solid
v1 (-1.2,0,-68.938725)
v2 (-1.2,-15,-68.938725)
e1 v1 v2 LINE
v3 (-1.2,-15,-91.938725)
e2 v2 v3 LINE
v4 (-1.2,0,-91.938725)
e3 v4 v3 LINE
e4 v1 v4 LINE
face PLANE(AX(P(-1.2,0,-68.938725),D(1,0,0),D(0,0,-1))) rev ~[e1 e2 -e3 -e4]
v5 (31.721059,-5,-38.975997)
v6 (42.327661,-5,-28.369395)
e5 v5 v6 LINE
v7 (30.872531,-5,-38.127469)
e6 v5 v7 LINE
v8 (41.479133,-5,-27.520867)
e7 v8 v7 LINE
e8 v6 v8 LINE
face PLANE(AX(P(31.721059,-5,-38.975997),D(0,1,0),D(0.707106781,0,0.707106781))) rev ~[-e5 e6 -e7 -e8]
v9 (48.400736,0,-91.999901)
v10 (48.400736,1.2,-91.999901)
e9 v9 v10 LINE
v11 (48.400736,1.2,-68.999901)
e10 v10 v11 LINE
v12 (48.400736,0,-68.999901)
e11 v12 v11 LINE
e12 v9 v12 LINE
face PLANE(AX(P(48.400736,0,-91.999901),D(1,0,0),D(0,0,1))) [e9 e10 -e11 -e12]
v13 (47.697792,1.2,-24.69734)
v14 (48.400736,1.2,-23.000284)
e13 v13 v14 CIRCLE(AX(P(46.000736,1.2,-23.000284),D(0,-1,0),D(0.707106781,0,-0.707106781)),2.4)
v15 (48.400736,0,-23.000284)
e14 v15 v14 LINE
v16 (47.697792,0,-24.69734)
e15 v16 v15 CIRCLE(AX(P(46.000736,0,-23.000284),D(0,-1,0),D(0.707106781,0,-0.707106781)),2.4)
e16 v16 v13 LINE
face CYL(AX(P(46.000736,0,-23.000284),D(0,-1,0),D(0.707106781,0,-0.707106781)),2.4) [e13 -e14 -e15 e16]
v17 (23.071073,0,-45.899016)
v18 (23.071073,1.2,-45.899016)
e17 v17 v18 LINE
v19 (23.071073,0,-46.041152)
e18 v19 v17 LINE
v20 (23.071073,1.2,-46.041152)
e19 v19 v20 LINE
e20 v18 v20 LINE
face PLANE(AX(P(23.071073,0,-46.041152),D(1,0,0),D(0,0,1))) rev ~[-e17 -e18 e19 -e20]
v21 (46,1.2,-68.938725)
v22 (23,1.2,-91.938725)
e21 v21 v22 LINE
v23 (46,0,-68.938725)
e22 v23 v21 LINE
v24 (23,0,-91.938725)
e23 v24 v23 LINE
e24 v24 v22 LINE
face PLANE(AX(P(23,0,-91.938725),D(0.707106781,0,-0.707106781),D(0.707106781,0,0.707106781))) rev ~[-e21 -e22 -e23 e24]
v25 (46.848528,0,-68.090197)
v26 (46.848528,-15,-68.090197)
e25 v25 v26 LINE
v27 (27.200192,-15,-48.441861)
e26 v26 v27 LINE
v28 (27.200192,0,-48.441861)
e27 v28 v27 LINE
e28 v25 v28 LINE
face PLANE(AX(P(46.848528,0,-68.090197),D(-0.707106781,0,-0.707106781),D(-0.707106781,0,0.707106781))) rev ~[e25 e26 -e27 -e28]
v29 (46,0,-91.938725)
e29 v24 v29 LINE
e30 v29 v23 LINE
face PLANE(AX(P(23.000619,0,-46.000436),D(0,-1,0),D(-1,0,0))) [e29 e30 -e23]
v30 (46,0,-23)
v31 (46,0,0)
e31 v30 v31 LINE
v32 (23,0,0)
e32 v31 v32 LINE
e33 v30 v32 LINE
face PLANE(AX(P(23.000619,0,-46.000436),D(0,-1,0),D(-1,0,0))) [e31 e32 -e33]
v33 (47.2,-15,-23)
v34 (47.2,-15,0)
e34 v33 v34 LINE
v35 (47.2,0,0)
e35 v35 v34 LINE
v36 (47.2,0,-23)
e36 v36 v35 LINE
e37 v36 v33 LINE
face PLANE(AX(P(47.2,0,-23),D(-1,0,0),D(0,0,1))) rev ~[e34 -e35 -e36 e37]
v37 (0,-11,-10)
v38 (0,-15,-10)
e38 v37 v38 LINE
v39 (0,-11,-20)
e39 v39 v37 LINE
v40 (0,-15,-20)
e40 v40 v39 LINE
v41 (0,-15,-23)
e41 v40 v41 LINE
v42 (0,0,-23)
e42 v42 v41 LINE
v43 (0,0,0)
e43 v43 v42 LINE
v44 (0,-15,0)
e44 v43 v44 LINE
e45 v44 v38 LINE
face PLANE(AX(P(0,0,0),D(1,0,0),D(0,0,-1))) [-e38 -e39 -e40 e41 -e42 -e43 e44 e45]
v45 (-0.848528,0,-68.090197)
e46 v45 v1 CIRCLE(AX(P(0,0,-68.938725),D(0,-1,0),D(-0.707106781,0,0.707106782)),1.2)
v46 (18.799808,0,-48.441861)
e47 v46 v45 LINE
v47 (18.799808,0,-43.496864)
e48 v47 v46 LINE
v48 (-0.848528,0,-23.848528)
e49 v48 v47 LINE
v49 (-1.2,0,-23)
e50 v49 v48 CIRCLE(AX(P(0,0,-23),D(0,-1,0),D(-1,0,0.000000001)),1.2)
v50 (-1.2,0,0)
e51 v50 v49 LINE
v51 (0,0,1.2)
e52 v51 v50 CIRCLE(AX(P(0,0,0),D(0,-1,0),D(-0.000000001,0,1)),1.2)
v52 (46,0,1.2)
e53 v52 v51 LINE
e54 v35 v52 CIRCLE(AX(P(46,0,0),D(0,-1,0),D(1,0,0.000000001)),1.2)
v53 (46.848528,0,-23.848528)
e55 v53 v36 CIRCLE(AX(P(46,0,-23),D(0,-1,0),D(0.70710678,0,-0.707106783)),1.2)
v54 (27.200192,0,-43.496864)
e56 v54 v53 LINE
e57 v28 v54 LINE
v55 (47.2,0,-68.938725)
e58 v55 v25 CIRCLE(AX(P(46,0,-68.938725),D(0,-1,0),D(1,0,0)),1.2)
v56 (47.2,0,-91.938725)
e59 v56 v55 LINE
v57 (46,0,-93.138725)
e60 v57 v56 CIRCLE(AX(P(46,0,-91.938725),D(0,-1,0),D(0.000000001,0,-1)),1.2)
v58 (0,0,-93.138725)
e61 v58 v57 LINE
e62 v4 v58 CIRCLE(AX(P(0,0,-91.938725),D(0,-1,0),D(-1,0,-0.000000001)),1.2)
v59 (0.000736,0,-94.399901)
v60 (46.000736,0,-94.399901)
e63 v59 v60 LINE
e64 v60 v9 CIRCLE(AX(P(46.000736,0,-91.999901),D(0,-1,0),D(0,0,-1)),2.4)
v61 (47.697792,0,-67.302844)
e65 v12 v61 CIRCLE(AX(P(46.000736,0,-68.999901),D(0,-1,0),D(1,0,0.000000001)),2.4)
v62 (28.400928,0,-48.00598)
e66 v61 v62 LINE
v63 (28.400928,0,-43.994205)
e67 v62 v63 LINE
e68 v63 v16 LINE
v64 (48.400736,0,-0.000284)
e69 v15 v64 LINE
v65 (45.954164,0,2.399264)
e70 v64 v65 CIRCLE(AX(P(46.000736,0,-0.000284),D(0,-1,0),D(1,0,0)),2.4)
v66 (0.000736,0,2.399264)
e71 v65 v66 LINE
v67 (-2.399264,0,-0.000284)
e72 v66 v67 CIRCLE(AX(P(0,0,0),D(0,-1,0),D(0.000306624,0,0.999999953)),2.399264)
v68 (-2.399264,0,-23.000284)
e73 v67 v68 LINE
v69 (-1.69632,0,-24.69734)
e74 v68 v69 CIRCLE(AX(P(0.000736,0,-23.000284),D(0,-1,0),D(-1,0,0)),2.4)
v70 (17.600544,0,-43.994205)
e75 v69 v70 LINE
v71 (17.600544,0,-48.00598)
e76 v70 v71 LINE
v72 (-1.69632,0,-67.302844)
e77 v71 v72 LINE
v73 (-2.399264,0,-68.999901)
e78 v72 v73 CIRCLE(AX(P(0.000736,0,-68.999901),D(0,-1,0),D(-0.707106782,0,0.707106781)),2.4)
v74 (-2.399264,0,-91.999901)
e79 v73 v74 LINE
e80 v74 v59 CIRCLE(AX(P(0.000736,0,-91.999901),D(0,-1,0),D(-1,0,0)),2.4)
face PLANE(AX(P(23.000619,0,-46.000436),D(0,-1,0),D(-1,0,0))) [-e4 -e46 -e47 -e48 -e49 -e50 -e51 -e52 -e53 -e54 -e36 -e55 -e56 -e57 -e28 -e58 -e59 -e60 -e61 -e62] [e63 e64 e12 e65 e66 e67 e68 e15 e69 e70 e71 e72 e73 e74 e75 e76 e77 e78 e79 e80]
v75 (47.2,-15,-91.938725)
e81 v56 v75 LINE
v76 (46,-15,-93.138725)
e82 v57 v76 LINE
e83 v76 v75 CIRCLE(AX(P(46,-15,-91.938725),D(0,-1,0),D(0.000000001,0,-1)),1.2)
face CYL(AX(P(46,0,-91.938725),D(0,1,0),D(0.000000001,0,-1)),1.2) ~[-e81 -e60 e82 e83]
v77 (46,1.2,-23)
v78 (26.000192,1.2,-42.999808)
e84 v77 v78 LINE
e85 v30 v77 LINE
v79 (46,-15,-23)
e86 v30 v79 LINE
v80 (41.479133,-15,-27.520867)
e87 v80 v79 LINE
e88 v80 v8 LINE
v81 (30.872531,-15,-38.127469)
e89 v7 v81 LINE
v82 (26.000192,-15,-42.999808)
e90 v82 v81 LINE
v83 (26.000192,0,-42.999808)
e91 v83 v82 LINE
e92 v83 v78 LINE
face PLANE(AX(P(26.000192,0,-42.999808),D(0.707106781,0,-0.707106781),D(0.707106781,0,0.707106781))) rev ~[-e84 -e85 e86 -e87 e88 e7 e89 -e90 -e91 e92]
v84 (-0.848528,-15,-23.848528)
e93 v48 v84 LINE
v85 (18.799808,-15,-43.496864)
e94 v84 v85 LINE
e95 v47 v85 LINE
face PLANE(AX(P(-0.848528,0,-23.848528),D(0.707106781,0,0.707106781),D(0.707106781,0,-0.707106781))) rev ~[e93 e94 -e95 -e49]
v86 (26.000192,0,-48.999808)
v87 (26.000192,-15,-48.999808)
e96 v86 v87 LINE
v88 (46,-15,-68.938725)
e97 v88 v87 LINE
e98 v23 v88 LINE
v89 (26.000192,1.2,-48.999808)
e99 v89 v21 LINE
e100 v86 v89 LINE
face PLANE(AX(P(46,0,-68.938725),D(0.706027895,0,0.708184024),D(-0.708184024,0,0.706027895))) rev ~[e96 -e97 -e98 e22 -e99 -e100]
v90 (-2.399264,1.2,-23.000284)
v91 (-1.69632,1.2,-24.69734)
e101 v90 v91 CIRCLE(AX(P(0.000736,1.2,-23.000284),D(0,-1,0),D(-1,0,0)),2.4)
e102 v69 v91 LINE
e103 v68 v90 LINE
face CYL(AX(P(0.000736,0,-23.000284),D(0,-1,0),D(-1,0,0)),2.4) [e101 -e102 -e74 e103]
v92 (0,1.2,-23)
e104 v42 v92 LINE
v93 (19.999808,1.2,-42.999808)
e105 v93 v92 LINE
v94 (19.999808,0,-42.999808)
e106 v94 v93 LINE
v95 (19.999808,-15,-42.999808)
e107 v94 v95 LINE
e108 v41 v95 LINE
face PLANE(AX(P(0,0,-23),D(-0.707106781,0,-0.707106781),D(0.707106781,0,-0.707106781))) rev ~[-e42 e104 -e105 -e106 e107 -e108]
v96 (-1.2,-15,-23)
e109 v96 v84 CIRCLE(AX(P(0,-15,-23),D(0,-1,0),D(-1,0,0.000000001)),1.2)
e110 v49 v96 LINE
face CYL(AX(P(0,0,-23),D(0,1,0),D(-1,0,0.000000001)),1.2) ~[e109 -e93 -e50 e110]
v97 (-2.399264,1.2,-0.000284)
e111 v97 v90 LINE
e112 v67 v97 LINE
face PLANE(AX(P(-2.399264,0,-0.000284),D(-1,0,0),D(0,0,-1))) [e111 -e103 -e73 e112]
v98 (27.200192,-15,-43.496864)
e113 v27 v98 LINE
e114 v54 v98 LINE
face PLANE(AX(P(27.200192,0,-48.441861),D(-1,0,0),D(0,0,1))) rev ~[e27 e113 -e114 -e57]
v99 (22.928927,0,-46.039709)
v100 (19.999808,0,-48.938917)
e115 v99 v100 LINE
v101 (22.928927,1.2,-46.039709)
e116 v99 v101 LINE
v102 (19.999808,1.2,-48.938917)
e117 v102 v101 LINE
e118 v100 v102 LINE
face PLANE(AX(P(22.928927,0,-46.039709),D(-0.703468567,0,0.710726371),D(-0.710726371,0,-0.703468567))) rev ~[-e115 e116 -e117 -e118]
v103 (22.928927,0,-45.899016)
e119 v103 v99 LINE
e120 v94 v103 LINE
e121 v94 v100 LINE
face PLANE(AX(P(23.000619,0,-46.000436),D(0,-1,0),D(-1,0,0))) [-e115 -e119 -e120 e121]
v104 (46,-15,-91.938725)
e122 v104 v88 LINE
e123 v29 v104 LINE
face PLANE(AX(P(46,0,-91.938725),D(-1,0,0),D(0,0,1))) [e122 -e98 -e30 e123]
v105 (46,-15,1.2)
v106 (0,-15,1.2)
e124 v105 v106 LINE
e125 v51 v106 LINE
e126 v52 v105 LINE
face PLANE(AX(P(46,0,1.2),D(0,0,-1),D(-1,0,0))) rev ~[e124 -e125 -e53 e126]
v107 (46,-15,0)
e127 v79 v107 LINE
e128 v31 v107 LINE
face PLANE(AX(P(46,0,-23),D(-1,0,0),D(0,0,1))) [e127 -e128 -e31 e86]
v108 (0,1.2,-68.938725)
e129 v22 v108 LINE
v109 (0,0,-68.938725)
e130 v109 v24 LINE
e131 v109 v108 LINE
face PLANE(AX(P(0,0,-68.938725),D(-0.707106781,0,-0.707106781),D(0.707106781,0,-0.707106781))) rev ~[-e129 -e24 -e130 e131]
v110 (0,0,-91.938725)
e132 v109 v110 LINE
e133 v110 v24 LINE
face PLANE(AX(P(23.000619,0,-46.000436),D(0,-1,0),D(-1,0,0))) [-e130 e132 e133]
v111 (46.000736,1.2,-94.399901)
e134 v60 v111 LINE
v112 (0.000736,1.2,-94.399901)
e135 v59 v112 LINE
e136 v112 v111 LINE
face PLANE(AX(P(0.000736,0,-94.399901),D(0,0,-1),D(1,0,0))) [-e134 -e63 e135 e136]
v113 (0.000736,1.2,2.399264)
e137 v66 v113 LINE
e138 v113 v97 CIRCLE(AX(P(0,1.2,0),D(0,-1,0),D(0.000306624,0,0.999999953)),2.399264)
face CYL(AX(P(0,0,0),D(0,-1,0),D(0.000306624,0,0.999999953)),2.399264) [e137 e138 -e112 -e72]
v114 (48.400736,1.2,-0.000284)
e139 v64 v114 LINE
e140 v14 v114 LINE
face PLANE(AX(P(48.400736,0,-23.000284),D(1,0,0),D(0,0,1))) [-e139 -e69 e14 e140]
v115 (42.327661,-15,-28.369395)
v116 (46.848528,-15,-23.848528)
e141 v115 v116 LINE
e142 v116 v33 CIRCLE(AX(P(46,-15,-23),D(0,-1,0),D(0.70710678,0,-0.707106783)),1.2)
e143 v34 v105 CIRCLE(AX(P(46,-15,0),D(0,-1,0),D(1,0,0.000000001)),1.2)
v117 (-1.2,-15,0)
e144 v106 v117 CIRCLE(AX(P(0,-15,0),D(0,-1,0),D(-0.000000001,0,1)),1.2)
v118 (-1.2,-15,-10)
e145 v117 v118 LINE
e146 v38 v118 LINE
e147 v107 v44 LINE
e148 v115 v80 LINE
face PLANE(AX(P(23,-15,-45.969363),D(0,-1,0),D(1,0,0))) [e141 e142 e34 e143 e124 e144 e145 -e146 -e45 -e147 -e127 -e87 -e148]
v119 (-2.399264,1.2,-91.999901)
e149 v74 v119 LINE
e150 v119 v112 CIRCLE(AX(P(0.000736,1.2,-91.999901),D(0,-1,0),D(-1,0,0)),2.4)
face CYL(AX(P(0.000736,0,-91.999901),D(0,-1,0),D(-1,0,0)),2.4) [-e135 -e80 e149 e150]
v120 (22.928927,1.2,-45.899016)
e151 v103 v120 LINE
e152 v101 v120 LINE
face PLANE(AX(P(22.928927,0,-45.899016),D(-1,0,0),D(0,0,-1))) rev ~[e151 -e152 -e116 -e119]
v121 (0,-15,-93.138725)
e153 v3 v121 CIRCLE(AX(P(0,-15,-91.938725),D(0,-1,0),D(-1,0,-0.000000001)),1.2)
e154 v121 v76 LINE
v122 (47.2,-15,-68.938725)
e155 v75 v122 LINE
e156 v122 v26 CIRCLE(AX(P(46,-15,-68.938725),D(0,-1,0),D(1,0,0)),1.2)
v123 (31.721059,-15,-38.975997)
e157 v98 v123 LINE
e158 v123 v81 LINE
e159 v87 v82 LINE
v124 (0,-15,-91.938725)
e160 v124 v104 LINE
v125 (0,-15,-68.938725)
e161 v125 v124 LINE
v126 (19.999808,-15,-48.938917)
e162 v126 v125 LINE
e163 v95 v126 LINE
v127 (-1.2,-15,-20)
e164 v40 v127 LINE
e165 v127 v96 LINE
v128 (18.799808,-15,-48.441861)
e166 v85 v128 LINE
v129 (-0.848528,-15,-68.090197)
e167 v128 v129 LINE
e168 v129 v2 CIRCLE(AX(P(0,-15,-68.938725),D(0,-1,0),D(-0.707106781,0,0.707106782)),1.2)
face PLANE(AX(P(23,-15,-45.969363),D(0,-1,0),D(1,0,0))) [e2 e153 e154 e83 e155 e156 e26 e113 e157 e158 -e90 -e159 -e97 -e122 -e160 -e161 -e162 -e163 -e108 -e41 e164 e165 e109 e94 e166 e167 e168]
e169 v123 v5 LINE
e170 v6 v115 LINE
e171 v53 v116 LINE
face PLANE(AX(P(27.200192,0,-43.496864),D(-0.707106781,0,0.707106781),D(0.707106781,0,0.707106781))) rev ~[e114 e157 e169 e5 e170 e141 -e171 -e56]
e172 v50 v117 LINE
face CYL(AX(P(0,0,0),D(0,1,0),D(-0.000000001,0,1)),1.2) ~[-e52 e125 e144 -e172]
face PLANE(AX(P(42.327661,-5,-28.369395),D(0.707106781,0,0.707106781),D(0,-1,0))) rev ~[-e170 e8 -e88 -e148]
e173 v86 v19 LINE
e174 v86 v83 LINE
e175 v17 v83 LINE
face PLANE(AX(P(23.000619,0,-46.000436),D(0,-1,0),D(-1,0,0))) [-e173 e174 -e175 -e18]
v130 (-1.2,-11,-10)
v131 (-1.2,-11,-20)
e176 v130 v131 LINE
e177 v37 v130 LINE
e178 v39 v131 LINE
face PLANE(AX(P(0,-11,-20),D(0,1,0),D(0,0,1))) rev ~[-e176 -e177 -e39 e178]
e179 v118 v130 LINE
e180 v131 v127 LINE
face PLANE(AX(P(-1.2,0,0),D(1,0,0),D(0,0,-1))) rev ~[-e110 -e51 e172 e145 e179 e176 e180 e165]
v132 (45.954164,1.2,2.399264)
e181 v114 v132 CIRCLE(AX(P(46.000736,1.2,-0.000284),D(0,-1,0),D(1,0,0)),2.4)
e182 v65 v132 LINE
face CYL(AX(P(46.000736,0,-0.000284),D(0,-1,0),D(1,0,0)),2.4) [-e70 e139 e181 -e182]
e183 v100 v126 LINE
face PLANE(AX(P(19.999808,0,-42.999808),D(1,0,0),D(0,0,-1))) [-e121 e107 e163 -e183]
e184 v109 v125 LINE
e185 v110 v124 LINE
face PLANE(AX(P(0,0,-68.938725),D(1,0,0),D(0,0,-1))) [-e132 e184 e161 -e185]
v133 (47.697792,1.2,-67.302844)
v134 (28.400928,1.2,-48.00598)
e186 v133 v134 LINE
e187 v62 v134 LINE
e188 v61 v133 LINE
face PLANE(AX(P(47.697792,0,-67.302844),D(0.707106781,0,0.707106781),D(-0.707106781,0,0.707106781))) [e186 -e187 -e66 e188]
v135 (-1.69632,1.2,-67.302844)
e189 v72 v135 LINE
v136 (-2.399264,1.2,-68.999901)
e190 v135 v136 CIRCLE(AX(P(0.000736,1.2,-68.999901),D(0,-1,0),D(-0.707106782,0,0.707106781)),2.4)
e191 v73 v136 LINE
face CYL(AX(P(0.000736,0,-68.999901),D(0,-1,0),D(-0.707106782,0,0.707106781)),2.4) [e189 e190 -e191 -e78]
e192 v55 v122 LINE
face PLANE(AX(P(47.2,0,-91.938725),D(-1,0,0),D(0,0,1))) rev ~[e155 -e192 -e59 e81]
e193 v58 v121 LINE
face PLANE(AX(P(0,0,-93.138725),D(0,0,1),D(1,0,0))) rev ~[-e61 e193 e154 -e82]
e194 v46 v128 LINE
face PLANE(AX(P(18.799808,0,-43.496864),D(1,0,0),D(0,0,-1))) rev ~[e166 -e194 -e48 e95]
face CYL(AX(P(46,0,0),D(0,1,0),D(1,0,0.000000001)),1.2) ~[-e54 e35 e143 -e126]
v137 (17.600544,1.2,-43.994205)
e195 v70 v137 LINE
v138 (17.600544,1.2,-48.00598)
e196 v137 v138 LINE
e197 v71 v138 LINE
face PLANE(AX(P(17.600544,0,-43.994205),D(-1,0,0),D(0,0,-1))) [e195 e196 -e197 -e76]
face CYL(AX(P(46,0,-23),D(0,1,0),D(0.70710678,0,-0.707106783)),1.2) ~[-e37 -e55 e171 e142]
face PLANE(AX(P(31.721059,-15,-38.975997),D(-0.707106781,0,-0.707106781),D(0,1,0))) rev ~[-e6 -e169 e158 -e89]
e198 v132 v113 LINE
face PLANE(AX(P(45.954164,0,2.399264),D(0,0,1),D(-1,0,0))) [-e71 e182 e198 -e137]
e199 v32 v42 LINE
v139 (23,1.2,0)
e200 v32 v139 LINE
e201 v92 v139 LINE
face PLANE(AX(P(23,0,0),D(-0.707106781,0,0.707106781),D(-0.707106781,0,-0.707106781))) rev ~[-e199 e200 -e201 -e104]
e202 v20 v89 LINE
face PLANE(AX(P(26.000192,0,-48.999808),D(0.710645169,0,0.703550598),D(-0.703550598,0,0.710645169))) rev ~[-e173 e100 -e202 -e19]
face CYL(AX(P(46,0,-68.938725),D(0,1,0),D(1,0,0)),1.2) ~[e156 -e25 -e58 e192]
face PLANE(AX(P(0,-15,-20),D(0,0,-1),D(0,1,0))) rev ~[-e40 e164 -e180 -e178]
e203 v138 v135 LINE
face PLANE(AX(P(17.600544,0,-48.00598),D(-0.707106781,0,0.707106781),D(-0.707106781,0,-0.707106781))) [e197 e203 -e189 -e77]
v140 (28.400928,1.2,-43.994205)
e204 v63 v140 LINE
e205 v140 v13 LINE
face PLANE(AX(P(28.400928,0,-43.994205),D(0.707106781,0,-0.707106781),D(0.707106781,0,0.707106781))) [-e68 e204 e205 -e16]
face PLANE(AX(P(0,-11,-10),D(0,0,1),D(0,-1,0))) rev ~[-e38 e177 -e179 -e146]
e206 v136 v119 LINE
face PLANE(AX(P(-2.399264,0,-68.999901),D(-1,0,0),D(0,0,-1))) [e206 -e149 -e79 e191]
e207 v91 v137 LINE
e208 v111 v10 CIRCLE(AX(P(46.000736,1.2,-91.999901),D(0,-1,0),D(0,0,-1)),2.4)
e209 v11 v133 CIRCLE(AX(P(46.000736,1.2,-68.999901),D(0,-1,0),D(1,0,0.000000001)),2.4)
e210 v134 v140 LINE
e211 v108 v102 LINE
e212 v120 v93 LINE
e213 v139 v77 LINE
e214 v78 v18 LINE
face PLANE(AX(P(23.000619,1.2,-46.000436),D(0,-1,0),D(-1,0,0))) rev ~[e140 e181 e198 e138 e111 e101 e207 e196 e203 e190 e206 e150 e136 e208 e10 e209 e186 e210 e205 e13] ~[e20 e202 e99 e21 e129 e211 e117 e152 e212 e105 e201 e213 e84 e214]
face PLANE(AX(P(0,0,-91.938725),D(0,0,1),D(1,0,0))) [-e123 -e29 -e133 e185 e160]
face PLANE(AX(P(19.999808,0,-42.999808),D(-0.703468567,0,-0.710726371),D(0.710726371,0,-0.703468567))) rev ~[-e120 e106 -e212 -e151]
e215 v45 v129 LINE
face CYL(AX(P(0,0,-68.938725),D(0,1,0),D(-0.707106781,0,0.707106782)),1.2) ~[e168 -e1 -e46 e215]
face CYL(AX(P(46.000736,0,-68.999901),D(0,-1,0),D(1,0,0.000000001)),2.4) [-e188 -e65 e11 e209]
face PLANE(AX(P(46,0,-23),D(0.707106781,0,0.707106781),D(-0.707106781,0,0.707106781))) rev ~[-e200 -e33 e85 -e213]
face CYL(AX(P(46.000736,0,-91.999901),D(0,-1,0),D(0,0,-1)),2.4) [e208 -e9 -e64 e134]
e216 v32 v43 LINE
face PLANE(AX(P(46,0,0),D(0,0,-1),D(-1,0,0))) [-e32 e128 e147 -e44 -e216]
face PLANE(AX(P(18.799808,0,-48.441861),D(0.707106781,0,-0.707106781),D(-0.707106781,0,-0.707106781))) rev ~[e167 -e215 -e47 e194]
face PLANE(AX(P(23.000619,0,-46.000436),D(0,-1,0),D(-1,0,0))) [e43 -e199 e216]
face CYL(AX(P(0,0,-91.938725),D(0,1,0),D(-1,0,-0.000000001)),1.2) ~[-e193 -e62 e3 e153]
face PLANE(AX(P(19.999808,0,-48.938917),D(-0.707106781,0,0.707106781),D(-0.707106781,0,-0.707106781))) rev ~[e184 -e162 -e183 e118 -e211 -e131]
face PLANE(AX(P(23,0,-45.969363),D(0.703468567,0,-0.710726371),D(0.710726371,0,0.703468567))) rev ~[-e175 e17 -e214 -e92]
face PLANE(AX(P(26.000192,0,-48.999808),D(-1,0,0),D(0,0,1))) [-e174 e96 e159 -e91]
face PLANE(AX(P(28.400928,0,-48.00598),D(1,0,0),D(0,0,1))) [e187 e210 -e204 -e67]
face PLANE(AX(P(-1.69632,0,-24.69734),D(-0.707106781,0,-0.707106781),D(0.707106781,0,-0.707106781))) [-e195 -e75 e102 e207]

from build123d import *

# Parameters (mm, degrees)
EXTRUDE_2_DEPTH      = 1.2
EXTRUDE_4_DEPTH      = 15
CUT_EXTRUDE_13_REACH = 109.14
CUT_EXTRUDE_15_REACH = 109.14
CUT_EXTRUDE_16_REACH = 109.14
CUT_EXTRUDE_17_REACH = 73.673


with BuildPart() as part:
    # 草图1 → 凸台-拉伸2 (new body)
    with BuildSketch(Plane(origin=(0, 0, 0), x_dir=(1, 0, 0), z_dir=(0, 1, 0))):
        with BuildLine():
            Line((-2.399264051, 68.999900529), (-2.399264051, 91.999900529))
            ThreePointArc((-2.399264051, 91.999900529), (-1.696320326, 93.696956804), (0.000735949, 94.399900529))
            Line((0.000735949, 94.399900529), (46.000735949, 94.399900529))
            ThreePointArc((46.000735949, 94.399900529), (47.697792224, 93.696956804), (48.400735949, 91.999900529))
            Line((48.400735949, 91.999900529), (48.400735949, 68.999900529))
            ThreePointArc((48.400735949, 68.999900529), (48.218046827, 68.081460292), (47.697792224, 67.302844254))
            Line((47.697792224, 67.302844254), (28.40092775, 48.00597978))
            Line((28.40092775, 48.00597978), (28.40092775, 43.99420488))
            Line((28.40092775, 43.99420488), (47.697792224, 24.697340406))
            ThreePointArc((47.697792224, 24.697340406), (48.218046827, 23.918724369), (48.400735949, 23.000284131))
            Line((48.400735949, 23.000284131), (48.400735949, 0.000284131))
            ThreePointArc((48.400735949, 0.000284131), (47.681245751, -1.713158837), (45.954163612, -2.399263955))
            Line((45.954163612, -2.399263955), (0.000735672, -2.399263955))
            ThreePointArc((0.000735672, -2.399263955), (-1.696376241, -1.696695528), (-2.399264051, 0.000284131))
            Line((-2.399264051, 0.000284131), (-2.399264051, 23.000284131))
            ThreePointArc((-2.399264051, 23.000284131), (-2.216574929, 23.918724369), (-1.696320326, 24.697340406))
            Line((-1.696320326, 24.697340406), (17.600544148, 43.99420488))
            Line((17.600544148, 43.99420488), (17.600544148, 48.00597978))
            Line((17.600544148, 48.00597978), (-1.696320326, 67.302844254))
            ThreePointArc((-1.696320326, 67.302844254), (-2.216574929, 68.081460292), (-2.399264051, 68.999900529))
        make_face()
    extrude(amount=EXTRUDE_2_DEPTH)

    # 草图3 → 凸台-拉伸4 (add)
    with BuildSketch(Plane.XZ):
        with BuildLine():
            Line((0, -93.138725211), (46, -93.138725211))
            ThreePointArc((46, -93.138725211), (46.848528137, -92.787253348), (47.2, -91.938725211))
            Line((47.2, -91.938725211), (47.2, -68.938725211))
            ThreePointArc((47.2, -68.938725211), (47.108655439, -68.479505092), (46.848528137, -68.090197073))
            Line((46.848528137, -68.090197073), (27.200191801, -48.441860737))
            Line((27.200191801, -48.441860737), (27.200191801, -43.496864474))
            Line((27.200191801, -43.496864474), (46.848528137, -23.848528137))
            ThreePointArc((46.848528137, -23.848528137), (47.108655439, -23.459220119), (47.2, -23))
            Line((47.2, -23), (47.2, 0))
            ThreePointArc((47.2, 0), (46.848528137, 0.848528137), (46, 1.2))
            Line((46, 1.2), (0, 1.2))
            ThreePointArc((0, 1.2), (-0.848528137, 0.848528137), (-1.2, 0))
            Line((-1.2, 0), (-1.2, -23))
            ThreePointArc((-1.2, -23), (-1.108655439, -23.459220119), (-0.848528137, -23.848528137))
            Line((-0.848528137, -23.848528137), (18.799808199, -43.496864474))
            Line((18.799808199, -43.496864474), (18.799808199, -48.441860737))
            Line((18.799808199, -48.441860737), (-0.848528137, -68.090197073))
            ThreePointArc((-0.848528137, -68.090197073), (-1.108655439, -68.479505092), (-1.2, -68.938725211))
            Line((-1.2, -68.938725211), (-1.2, -91.938725211))
            ThreePointArc((-1.2, -91.938725211), (-0.848528137, -92.787253348), (0, -93.138725211))
        make_face()
        Polygon((0, -23), (19.999808199, -42.999808199), (19.999808199, -48.938917012), (0, -68.938725211), (0, -91.938725211), (46, -91.938725211), (46, -68.938725211), (26.000191801, -48.999808199), (26.000191801, -42.999808199), (46, -23), (46, 0), (0, 0), align=None, mode=Mode.SUBTRACT)
    extrude(amount=EXTRUDE_4_DEPTH)

    # 草图11 → 切除-拉伸13 (cut, up to next)
    with BuildSketch(Plane(origin=(0, 0, 0), x_dir=(-1, 0, 0), z_dir=(0, -1, 0)), mode=Mode.PRIVATE) as cut_extrude_13_sk1:
        Polygon((-19.999808199, 42.999808199), (-23, 45.969362605), (-26.000191801, 42.999808199), (-46, 23), (-23, 0), (0, 23), align=None)
    cut_extrude_13_tool1 = extrude(cut_extrude_13_sk1.sketch, amount=-CUT_EXTRUDE_13_REACH, mode=Mode.PRIVATE) & part.part
    add(cut_extrude_13_tool1.solids().sort_by_distance((23, 0, -22.998089))[0], mode=Mode.SUBTRACT)

    # 草图16 → 切除-拉伸15 (cut, up to next)
    with BuildSketch(Plane.XZ, mode=Mode.PRIVATE) as cut_extrude_15_sk1:
        Polygon((0, -68.938725211), (23, -91.938725211), (46, -68.938725211), (26.000191801, -48.999808199), (23.071072637, -46.041151936), (23.071072637, -45.899015749), (22.928927363, -45.899015749), (22.928927363, -46.039709462), (19.999808199, -48.938917012), align=None)
    cut_extrude_15_tool1 = extrude(cut_extrude_15_sk1.sketch, amount=-CUT_EXTRUDE_15_REACH, mode=Mode.PRIVATE) & part.part
    add(cut_extrude_15_tool1.solids().sort_by_distance((22.99426, 0, -68.949789))[0], mode=Mode.SUBTRACT)

    # 草图17 → 切除-拉伸16 (cut, up to next)
    with BuildSketch(Plane(origin=(0, 0, 0), x_dir=(0, 0, -1), z_dir=(1, 0, 0)), mode=Mode.PRIVATE) as cut_extrude_16_sk1:
        Polygon((10, -11), (10, -15), (15, -15), (20, -15), (20, -11), (15, -11), align=None)
    cut_extrude_16_tool1 = extrude(cut_extrude_16_sk1.sketch, amount=-CUT_EXTRUDE_16_REACH, mode=Mode.PRIVATE) & part.part
    add(cut_extrude_16_tool1.solids().sort_by_distance((0, -13, -15))[0], mode=Mode.SUBTRACT)

    # 草图18 → 切除-拉伸17 (cut, up to next)
    with BuildSketch(Plane(origin=(35.348528137, 0, -35.348528137), x_dir=(-0.707106781186532, 0, -0.707106781186563), z_dir=(0.707106781186563, 0, -0.707106781186532)), mode=Mode.PRIVATE) as cut_extrude_17_sk1:
        Polygon((-2.369984105, -15), (5.130015895, -15), (5.130015895, -5), (-9.869984105, -5), (-9.869984105, -15), align=None)
    cut_extrude_17_tool1 = extrude(cut_extrude_17_sk1.sketch, amount=-CUT_EXTRUDE_17_REACH, mode=Mode.PRIVATE) & part.part
    add(cut_extrude_17_tool1.solids().sort_by_distance((37.02436, -10, -33.672696))[0], mode=Mode.SUBTRACT)


solid = part.part
